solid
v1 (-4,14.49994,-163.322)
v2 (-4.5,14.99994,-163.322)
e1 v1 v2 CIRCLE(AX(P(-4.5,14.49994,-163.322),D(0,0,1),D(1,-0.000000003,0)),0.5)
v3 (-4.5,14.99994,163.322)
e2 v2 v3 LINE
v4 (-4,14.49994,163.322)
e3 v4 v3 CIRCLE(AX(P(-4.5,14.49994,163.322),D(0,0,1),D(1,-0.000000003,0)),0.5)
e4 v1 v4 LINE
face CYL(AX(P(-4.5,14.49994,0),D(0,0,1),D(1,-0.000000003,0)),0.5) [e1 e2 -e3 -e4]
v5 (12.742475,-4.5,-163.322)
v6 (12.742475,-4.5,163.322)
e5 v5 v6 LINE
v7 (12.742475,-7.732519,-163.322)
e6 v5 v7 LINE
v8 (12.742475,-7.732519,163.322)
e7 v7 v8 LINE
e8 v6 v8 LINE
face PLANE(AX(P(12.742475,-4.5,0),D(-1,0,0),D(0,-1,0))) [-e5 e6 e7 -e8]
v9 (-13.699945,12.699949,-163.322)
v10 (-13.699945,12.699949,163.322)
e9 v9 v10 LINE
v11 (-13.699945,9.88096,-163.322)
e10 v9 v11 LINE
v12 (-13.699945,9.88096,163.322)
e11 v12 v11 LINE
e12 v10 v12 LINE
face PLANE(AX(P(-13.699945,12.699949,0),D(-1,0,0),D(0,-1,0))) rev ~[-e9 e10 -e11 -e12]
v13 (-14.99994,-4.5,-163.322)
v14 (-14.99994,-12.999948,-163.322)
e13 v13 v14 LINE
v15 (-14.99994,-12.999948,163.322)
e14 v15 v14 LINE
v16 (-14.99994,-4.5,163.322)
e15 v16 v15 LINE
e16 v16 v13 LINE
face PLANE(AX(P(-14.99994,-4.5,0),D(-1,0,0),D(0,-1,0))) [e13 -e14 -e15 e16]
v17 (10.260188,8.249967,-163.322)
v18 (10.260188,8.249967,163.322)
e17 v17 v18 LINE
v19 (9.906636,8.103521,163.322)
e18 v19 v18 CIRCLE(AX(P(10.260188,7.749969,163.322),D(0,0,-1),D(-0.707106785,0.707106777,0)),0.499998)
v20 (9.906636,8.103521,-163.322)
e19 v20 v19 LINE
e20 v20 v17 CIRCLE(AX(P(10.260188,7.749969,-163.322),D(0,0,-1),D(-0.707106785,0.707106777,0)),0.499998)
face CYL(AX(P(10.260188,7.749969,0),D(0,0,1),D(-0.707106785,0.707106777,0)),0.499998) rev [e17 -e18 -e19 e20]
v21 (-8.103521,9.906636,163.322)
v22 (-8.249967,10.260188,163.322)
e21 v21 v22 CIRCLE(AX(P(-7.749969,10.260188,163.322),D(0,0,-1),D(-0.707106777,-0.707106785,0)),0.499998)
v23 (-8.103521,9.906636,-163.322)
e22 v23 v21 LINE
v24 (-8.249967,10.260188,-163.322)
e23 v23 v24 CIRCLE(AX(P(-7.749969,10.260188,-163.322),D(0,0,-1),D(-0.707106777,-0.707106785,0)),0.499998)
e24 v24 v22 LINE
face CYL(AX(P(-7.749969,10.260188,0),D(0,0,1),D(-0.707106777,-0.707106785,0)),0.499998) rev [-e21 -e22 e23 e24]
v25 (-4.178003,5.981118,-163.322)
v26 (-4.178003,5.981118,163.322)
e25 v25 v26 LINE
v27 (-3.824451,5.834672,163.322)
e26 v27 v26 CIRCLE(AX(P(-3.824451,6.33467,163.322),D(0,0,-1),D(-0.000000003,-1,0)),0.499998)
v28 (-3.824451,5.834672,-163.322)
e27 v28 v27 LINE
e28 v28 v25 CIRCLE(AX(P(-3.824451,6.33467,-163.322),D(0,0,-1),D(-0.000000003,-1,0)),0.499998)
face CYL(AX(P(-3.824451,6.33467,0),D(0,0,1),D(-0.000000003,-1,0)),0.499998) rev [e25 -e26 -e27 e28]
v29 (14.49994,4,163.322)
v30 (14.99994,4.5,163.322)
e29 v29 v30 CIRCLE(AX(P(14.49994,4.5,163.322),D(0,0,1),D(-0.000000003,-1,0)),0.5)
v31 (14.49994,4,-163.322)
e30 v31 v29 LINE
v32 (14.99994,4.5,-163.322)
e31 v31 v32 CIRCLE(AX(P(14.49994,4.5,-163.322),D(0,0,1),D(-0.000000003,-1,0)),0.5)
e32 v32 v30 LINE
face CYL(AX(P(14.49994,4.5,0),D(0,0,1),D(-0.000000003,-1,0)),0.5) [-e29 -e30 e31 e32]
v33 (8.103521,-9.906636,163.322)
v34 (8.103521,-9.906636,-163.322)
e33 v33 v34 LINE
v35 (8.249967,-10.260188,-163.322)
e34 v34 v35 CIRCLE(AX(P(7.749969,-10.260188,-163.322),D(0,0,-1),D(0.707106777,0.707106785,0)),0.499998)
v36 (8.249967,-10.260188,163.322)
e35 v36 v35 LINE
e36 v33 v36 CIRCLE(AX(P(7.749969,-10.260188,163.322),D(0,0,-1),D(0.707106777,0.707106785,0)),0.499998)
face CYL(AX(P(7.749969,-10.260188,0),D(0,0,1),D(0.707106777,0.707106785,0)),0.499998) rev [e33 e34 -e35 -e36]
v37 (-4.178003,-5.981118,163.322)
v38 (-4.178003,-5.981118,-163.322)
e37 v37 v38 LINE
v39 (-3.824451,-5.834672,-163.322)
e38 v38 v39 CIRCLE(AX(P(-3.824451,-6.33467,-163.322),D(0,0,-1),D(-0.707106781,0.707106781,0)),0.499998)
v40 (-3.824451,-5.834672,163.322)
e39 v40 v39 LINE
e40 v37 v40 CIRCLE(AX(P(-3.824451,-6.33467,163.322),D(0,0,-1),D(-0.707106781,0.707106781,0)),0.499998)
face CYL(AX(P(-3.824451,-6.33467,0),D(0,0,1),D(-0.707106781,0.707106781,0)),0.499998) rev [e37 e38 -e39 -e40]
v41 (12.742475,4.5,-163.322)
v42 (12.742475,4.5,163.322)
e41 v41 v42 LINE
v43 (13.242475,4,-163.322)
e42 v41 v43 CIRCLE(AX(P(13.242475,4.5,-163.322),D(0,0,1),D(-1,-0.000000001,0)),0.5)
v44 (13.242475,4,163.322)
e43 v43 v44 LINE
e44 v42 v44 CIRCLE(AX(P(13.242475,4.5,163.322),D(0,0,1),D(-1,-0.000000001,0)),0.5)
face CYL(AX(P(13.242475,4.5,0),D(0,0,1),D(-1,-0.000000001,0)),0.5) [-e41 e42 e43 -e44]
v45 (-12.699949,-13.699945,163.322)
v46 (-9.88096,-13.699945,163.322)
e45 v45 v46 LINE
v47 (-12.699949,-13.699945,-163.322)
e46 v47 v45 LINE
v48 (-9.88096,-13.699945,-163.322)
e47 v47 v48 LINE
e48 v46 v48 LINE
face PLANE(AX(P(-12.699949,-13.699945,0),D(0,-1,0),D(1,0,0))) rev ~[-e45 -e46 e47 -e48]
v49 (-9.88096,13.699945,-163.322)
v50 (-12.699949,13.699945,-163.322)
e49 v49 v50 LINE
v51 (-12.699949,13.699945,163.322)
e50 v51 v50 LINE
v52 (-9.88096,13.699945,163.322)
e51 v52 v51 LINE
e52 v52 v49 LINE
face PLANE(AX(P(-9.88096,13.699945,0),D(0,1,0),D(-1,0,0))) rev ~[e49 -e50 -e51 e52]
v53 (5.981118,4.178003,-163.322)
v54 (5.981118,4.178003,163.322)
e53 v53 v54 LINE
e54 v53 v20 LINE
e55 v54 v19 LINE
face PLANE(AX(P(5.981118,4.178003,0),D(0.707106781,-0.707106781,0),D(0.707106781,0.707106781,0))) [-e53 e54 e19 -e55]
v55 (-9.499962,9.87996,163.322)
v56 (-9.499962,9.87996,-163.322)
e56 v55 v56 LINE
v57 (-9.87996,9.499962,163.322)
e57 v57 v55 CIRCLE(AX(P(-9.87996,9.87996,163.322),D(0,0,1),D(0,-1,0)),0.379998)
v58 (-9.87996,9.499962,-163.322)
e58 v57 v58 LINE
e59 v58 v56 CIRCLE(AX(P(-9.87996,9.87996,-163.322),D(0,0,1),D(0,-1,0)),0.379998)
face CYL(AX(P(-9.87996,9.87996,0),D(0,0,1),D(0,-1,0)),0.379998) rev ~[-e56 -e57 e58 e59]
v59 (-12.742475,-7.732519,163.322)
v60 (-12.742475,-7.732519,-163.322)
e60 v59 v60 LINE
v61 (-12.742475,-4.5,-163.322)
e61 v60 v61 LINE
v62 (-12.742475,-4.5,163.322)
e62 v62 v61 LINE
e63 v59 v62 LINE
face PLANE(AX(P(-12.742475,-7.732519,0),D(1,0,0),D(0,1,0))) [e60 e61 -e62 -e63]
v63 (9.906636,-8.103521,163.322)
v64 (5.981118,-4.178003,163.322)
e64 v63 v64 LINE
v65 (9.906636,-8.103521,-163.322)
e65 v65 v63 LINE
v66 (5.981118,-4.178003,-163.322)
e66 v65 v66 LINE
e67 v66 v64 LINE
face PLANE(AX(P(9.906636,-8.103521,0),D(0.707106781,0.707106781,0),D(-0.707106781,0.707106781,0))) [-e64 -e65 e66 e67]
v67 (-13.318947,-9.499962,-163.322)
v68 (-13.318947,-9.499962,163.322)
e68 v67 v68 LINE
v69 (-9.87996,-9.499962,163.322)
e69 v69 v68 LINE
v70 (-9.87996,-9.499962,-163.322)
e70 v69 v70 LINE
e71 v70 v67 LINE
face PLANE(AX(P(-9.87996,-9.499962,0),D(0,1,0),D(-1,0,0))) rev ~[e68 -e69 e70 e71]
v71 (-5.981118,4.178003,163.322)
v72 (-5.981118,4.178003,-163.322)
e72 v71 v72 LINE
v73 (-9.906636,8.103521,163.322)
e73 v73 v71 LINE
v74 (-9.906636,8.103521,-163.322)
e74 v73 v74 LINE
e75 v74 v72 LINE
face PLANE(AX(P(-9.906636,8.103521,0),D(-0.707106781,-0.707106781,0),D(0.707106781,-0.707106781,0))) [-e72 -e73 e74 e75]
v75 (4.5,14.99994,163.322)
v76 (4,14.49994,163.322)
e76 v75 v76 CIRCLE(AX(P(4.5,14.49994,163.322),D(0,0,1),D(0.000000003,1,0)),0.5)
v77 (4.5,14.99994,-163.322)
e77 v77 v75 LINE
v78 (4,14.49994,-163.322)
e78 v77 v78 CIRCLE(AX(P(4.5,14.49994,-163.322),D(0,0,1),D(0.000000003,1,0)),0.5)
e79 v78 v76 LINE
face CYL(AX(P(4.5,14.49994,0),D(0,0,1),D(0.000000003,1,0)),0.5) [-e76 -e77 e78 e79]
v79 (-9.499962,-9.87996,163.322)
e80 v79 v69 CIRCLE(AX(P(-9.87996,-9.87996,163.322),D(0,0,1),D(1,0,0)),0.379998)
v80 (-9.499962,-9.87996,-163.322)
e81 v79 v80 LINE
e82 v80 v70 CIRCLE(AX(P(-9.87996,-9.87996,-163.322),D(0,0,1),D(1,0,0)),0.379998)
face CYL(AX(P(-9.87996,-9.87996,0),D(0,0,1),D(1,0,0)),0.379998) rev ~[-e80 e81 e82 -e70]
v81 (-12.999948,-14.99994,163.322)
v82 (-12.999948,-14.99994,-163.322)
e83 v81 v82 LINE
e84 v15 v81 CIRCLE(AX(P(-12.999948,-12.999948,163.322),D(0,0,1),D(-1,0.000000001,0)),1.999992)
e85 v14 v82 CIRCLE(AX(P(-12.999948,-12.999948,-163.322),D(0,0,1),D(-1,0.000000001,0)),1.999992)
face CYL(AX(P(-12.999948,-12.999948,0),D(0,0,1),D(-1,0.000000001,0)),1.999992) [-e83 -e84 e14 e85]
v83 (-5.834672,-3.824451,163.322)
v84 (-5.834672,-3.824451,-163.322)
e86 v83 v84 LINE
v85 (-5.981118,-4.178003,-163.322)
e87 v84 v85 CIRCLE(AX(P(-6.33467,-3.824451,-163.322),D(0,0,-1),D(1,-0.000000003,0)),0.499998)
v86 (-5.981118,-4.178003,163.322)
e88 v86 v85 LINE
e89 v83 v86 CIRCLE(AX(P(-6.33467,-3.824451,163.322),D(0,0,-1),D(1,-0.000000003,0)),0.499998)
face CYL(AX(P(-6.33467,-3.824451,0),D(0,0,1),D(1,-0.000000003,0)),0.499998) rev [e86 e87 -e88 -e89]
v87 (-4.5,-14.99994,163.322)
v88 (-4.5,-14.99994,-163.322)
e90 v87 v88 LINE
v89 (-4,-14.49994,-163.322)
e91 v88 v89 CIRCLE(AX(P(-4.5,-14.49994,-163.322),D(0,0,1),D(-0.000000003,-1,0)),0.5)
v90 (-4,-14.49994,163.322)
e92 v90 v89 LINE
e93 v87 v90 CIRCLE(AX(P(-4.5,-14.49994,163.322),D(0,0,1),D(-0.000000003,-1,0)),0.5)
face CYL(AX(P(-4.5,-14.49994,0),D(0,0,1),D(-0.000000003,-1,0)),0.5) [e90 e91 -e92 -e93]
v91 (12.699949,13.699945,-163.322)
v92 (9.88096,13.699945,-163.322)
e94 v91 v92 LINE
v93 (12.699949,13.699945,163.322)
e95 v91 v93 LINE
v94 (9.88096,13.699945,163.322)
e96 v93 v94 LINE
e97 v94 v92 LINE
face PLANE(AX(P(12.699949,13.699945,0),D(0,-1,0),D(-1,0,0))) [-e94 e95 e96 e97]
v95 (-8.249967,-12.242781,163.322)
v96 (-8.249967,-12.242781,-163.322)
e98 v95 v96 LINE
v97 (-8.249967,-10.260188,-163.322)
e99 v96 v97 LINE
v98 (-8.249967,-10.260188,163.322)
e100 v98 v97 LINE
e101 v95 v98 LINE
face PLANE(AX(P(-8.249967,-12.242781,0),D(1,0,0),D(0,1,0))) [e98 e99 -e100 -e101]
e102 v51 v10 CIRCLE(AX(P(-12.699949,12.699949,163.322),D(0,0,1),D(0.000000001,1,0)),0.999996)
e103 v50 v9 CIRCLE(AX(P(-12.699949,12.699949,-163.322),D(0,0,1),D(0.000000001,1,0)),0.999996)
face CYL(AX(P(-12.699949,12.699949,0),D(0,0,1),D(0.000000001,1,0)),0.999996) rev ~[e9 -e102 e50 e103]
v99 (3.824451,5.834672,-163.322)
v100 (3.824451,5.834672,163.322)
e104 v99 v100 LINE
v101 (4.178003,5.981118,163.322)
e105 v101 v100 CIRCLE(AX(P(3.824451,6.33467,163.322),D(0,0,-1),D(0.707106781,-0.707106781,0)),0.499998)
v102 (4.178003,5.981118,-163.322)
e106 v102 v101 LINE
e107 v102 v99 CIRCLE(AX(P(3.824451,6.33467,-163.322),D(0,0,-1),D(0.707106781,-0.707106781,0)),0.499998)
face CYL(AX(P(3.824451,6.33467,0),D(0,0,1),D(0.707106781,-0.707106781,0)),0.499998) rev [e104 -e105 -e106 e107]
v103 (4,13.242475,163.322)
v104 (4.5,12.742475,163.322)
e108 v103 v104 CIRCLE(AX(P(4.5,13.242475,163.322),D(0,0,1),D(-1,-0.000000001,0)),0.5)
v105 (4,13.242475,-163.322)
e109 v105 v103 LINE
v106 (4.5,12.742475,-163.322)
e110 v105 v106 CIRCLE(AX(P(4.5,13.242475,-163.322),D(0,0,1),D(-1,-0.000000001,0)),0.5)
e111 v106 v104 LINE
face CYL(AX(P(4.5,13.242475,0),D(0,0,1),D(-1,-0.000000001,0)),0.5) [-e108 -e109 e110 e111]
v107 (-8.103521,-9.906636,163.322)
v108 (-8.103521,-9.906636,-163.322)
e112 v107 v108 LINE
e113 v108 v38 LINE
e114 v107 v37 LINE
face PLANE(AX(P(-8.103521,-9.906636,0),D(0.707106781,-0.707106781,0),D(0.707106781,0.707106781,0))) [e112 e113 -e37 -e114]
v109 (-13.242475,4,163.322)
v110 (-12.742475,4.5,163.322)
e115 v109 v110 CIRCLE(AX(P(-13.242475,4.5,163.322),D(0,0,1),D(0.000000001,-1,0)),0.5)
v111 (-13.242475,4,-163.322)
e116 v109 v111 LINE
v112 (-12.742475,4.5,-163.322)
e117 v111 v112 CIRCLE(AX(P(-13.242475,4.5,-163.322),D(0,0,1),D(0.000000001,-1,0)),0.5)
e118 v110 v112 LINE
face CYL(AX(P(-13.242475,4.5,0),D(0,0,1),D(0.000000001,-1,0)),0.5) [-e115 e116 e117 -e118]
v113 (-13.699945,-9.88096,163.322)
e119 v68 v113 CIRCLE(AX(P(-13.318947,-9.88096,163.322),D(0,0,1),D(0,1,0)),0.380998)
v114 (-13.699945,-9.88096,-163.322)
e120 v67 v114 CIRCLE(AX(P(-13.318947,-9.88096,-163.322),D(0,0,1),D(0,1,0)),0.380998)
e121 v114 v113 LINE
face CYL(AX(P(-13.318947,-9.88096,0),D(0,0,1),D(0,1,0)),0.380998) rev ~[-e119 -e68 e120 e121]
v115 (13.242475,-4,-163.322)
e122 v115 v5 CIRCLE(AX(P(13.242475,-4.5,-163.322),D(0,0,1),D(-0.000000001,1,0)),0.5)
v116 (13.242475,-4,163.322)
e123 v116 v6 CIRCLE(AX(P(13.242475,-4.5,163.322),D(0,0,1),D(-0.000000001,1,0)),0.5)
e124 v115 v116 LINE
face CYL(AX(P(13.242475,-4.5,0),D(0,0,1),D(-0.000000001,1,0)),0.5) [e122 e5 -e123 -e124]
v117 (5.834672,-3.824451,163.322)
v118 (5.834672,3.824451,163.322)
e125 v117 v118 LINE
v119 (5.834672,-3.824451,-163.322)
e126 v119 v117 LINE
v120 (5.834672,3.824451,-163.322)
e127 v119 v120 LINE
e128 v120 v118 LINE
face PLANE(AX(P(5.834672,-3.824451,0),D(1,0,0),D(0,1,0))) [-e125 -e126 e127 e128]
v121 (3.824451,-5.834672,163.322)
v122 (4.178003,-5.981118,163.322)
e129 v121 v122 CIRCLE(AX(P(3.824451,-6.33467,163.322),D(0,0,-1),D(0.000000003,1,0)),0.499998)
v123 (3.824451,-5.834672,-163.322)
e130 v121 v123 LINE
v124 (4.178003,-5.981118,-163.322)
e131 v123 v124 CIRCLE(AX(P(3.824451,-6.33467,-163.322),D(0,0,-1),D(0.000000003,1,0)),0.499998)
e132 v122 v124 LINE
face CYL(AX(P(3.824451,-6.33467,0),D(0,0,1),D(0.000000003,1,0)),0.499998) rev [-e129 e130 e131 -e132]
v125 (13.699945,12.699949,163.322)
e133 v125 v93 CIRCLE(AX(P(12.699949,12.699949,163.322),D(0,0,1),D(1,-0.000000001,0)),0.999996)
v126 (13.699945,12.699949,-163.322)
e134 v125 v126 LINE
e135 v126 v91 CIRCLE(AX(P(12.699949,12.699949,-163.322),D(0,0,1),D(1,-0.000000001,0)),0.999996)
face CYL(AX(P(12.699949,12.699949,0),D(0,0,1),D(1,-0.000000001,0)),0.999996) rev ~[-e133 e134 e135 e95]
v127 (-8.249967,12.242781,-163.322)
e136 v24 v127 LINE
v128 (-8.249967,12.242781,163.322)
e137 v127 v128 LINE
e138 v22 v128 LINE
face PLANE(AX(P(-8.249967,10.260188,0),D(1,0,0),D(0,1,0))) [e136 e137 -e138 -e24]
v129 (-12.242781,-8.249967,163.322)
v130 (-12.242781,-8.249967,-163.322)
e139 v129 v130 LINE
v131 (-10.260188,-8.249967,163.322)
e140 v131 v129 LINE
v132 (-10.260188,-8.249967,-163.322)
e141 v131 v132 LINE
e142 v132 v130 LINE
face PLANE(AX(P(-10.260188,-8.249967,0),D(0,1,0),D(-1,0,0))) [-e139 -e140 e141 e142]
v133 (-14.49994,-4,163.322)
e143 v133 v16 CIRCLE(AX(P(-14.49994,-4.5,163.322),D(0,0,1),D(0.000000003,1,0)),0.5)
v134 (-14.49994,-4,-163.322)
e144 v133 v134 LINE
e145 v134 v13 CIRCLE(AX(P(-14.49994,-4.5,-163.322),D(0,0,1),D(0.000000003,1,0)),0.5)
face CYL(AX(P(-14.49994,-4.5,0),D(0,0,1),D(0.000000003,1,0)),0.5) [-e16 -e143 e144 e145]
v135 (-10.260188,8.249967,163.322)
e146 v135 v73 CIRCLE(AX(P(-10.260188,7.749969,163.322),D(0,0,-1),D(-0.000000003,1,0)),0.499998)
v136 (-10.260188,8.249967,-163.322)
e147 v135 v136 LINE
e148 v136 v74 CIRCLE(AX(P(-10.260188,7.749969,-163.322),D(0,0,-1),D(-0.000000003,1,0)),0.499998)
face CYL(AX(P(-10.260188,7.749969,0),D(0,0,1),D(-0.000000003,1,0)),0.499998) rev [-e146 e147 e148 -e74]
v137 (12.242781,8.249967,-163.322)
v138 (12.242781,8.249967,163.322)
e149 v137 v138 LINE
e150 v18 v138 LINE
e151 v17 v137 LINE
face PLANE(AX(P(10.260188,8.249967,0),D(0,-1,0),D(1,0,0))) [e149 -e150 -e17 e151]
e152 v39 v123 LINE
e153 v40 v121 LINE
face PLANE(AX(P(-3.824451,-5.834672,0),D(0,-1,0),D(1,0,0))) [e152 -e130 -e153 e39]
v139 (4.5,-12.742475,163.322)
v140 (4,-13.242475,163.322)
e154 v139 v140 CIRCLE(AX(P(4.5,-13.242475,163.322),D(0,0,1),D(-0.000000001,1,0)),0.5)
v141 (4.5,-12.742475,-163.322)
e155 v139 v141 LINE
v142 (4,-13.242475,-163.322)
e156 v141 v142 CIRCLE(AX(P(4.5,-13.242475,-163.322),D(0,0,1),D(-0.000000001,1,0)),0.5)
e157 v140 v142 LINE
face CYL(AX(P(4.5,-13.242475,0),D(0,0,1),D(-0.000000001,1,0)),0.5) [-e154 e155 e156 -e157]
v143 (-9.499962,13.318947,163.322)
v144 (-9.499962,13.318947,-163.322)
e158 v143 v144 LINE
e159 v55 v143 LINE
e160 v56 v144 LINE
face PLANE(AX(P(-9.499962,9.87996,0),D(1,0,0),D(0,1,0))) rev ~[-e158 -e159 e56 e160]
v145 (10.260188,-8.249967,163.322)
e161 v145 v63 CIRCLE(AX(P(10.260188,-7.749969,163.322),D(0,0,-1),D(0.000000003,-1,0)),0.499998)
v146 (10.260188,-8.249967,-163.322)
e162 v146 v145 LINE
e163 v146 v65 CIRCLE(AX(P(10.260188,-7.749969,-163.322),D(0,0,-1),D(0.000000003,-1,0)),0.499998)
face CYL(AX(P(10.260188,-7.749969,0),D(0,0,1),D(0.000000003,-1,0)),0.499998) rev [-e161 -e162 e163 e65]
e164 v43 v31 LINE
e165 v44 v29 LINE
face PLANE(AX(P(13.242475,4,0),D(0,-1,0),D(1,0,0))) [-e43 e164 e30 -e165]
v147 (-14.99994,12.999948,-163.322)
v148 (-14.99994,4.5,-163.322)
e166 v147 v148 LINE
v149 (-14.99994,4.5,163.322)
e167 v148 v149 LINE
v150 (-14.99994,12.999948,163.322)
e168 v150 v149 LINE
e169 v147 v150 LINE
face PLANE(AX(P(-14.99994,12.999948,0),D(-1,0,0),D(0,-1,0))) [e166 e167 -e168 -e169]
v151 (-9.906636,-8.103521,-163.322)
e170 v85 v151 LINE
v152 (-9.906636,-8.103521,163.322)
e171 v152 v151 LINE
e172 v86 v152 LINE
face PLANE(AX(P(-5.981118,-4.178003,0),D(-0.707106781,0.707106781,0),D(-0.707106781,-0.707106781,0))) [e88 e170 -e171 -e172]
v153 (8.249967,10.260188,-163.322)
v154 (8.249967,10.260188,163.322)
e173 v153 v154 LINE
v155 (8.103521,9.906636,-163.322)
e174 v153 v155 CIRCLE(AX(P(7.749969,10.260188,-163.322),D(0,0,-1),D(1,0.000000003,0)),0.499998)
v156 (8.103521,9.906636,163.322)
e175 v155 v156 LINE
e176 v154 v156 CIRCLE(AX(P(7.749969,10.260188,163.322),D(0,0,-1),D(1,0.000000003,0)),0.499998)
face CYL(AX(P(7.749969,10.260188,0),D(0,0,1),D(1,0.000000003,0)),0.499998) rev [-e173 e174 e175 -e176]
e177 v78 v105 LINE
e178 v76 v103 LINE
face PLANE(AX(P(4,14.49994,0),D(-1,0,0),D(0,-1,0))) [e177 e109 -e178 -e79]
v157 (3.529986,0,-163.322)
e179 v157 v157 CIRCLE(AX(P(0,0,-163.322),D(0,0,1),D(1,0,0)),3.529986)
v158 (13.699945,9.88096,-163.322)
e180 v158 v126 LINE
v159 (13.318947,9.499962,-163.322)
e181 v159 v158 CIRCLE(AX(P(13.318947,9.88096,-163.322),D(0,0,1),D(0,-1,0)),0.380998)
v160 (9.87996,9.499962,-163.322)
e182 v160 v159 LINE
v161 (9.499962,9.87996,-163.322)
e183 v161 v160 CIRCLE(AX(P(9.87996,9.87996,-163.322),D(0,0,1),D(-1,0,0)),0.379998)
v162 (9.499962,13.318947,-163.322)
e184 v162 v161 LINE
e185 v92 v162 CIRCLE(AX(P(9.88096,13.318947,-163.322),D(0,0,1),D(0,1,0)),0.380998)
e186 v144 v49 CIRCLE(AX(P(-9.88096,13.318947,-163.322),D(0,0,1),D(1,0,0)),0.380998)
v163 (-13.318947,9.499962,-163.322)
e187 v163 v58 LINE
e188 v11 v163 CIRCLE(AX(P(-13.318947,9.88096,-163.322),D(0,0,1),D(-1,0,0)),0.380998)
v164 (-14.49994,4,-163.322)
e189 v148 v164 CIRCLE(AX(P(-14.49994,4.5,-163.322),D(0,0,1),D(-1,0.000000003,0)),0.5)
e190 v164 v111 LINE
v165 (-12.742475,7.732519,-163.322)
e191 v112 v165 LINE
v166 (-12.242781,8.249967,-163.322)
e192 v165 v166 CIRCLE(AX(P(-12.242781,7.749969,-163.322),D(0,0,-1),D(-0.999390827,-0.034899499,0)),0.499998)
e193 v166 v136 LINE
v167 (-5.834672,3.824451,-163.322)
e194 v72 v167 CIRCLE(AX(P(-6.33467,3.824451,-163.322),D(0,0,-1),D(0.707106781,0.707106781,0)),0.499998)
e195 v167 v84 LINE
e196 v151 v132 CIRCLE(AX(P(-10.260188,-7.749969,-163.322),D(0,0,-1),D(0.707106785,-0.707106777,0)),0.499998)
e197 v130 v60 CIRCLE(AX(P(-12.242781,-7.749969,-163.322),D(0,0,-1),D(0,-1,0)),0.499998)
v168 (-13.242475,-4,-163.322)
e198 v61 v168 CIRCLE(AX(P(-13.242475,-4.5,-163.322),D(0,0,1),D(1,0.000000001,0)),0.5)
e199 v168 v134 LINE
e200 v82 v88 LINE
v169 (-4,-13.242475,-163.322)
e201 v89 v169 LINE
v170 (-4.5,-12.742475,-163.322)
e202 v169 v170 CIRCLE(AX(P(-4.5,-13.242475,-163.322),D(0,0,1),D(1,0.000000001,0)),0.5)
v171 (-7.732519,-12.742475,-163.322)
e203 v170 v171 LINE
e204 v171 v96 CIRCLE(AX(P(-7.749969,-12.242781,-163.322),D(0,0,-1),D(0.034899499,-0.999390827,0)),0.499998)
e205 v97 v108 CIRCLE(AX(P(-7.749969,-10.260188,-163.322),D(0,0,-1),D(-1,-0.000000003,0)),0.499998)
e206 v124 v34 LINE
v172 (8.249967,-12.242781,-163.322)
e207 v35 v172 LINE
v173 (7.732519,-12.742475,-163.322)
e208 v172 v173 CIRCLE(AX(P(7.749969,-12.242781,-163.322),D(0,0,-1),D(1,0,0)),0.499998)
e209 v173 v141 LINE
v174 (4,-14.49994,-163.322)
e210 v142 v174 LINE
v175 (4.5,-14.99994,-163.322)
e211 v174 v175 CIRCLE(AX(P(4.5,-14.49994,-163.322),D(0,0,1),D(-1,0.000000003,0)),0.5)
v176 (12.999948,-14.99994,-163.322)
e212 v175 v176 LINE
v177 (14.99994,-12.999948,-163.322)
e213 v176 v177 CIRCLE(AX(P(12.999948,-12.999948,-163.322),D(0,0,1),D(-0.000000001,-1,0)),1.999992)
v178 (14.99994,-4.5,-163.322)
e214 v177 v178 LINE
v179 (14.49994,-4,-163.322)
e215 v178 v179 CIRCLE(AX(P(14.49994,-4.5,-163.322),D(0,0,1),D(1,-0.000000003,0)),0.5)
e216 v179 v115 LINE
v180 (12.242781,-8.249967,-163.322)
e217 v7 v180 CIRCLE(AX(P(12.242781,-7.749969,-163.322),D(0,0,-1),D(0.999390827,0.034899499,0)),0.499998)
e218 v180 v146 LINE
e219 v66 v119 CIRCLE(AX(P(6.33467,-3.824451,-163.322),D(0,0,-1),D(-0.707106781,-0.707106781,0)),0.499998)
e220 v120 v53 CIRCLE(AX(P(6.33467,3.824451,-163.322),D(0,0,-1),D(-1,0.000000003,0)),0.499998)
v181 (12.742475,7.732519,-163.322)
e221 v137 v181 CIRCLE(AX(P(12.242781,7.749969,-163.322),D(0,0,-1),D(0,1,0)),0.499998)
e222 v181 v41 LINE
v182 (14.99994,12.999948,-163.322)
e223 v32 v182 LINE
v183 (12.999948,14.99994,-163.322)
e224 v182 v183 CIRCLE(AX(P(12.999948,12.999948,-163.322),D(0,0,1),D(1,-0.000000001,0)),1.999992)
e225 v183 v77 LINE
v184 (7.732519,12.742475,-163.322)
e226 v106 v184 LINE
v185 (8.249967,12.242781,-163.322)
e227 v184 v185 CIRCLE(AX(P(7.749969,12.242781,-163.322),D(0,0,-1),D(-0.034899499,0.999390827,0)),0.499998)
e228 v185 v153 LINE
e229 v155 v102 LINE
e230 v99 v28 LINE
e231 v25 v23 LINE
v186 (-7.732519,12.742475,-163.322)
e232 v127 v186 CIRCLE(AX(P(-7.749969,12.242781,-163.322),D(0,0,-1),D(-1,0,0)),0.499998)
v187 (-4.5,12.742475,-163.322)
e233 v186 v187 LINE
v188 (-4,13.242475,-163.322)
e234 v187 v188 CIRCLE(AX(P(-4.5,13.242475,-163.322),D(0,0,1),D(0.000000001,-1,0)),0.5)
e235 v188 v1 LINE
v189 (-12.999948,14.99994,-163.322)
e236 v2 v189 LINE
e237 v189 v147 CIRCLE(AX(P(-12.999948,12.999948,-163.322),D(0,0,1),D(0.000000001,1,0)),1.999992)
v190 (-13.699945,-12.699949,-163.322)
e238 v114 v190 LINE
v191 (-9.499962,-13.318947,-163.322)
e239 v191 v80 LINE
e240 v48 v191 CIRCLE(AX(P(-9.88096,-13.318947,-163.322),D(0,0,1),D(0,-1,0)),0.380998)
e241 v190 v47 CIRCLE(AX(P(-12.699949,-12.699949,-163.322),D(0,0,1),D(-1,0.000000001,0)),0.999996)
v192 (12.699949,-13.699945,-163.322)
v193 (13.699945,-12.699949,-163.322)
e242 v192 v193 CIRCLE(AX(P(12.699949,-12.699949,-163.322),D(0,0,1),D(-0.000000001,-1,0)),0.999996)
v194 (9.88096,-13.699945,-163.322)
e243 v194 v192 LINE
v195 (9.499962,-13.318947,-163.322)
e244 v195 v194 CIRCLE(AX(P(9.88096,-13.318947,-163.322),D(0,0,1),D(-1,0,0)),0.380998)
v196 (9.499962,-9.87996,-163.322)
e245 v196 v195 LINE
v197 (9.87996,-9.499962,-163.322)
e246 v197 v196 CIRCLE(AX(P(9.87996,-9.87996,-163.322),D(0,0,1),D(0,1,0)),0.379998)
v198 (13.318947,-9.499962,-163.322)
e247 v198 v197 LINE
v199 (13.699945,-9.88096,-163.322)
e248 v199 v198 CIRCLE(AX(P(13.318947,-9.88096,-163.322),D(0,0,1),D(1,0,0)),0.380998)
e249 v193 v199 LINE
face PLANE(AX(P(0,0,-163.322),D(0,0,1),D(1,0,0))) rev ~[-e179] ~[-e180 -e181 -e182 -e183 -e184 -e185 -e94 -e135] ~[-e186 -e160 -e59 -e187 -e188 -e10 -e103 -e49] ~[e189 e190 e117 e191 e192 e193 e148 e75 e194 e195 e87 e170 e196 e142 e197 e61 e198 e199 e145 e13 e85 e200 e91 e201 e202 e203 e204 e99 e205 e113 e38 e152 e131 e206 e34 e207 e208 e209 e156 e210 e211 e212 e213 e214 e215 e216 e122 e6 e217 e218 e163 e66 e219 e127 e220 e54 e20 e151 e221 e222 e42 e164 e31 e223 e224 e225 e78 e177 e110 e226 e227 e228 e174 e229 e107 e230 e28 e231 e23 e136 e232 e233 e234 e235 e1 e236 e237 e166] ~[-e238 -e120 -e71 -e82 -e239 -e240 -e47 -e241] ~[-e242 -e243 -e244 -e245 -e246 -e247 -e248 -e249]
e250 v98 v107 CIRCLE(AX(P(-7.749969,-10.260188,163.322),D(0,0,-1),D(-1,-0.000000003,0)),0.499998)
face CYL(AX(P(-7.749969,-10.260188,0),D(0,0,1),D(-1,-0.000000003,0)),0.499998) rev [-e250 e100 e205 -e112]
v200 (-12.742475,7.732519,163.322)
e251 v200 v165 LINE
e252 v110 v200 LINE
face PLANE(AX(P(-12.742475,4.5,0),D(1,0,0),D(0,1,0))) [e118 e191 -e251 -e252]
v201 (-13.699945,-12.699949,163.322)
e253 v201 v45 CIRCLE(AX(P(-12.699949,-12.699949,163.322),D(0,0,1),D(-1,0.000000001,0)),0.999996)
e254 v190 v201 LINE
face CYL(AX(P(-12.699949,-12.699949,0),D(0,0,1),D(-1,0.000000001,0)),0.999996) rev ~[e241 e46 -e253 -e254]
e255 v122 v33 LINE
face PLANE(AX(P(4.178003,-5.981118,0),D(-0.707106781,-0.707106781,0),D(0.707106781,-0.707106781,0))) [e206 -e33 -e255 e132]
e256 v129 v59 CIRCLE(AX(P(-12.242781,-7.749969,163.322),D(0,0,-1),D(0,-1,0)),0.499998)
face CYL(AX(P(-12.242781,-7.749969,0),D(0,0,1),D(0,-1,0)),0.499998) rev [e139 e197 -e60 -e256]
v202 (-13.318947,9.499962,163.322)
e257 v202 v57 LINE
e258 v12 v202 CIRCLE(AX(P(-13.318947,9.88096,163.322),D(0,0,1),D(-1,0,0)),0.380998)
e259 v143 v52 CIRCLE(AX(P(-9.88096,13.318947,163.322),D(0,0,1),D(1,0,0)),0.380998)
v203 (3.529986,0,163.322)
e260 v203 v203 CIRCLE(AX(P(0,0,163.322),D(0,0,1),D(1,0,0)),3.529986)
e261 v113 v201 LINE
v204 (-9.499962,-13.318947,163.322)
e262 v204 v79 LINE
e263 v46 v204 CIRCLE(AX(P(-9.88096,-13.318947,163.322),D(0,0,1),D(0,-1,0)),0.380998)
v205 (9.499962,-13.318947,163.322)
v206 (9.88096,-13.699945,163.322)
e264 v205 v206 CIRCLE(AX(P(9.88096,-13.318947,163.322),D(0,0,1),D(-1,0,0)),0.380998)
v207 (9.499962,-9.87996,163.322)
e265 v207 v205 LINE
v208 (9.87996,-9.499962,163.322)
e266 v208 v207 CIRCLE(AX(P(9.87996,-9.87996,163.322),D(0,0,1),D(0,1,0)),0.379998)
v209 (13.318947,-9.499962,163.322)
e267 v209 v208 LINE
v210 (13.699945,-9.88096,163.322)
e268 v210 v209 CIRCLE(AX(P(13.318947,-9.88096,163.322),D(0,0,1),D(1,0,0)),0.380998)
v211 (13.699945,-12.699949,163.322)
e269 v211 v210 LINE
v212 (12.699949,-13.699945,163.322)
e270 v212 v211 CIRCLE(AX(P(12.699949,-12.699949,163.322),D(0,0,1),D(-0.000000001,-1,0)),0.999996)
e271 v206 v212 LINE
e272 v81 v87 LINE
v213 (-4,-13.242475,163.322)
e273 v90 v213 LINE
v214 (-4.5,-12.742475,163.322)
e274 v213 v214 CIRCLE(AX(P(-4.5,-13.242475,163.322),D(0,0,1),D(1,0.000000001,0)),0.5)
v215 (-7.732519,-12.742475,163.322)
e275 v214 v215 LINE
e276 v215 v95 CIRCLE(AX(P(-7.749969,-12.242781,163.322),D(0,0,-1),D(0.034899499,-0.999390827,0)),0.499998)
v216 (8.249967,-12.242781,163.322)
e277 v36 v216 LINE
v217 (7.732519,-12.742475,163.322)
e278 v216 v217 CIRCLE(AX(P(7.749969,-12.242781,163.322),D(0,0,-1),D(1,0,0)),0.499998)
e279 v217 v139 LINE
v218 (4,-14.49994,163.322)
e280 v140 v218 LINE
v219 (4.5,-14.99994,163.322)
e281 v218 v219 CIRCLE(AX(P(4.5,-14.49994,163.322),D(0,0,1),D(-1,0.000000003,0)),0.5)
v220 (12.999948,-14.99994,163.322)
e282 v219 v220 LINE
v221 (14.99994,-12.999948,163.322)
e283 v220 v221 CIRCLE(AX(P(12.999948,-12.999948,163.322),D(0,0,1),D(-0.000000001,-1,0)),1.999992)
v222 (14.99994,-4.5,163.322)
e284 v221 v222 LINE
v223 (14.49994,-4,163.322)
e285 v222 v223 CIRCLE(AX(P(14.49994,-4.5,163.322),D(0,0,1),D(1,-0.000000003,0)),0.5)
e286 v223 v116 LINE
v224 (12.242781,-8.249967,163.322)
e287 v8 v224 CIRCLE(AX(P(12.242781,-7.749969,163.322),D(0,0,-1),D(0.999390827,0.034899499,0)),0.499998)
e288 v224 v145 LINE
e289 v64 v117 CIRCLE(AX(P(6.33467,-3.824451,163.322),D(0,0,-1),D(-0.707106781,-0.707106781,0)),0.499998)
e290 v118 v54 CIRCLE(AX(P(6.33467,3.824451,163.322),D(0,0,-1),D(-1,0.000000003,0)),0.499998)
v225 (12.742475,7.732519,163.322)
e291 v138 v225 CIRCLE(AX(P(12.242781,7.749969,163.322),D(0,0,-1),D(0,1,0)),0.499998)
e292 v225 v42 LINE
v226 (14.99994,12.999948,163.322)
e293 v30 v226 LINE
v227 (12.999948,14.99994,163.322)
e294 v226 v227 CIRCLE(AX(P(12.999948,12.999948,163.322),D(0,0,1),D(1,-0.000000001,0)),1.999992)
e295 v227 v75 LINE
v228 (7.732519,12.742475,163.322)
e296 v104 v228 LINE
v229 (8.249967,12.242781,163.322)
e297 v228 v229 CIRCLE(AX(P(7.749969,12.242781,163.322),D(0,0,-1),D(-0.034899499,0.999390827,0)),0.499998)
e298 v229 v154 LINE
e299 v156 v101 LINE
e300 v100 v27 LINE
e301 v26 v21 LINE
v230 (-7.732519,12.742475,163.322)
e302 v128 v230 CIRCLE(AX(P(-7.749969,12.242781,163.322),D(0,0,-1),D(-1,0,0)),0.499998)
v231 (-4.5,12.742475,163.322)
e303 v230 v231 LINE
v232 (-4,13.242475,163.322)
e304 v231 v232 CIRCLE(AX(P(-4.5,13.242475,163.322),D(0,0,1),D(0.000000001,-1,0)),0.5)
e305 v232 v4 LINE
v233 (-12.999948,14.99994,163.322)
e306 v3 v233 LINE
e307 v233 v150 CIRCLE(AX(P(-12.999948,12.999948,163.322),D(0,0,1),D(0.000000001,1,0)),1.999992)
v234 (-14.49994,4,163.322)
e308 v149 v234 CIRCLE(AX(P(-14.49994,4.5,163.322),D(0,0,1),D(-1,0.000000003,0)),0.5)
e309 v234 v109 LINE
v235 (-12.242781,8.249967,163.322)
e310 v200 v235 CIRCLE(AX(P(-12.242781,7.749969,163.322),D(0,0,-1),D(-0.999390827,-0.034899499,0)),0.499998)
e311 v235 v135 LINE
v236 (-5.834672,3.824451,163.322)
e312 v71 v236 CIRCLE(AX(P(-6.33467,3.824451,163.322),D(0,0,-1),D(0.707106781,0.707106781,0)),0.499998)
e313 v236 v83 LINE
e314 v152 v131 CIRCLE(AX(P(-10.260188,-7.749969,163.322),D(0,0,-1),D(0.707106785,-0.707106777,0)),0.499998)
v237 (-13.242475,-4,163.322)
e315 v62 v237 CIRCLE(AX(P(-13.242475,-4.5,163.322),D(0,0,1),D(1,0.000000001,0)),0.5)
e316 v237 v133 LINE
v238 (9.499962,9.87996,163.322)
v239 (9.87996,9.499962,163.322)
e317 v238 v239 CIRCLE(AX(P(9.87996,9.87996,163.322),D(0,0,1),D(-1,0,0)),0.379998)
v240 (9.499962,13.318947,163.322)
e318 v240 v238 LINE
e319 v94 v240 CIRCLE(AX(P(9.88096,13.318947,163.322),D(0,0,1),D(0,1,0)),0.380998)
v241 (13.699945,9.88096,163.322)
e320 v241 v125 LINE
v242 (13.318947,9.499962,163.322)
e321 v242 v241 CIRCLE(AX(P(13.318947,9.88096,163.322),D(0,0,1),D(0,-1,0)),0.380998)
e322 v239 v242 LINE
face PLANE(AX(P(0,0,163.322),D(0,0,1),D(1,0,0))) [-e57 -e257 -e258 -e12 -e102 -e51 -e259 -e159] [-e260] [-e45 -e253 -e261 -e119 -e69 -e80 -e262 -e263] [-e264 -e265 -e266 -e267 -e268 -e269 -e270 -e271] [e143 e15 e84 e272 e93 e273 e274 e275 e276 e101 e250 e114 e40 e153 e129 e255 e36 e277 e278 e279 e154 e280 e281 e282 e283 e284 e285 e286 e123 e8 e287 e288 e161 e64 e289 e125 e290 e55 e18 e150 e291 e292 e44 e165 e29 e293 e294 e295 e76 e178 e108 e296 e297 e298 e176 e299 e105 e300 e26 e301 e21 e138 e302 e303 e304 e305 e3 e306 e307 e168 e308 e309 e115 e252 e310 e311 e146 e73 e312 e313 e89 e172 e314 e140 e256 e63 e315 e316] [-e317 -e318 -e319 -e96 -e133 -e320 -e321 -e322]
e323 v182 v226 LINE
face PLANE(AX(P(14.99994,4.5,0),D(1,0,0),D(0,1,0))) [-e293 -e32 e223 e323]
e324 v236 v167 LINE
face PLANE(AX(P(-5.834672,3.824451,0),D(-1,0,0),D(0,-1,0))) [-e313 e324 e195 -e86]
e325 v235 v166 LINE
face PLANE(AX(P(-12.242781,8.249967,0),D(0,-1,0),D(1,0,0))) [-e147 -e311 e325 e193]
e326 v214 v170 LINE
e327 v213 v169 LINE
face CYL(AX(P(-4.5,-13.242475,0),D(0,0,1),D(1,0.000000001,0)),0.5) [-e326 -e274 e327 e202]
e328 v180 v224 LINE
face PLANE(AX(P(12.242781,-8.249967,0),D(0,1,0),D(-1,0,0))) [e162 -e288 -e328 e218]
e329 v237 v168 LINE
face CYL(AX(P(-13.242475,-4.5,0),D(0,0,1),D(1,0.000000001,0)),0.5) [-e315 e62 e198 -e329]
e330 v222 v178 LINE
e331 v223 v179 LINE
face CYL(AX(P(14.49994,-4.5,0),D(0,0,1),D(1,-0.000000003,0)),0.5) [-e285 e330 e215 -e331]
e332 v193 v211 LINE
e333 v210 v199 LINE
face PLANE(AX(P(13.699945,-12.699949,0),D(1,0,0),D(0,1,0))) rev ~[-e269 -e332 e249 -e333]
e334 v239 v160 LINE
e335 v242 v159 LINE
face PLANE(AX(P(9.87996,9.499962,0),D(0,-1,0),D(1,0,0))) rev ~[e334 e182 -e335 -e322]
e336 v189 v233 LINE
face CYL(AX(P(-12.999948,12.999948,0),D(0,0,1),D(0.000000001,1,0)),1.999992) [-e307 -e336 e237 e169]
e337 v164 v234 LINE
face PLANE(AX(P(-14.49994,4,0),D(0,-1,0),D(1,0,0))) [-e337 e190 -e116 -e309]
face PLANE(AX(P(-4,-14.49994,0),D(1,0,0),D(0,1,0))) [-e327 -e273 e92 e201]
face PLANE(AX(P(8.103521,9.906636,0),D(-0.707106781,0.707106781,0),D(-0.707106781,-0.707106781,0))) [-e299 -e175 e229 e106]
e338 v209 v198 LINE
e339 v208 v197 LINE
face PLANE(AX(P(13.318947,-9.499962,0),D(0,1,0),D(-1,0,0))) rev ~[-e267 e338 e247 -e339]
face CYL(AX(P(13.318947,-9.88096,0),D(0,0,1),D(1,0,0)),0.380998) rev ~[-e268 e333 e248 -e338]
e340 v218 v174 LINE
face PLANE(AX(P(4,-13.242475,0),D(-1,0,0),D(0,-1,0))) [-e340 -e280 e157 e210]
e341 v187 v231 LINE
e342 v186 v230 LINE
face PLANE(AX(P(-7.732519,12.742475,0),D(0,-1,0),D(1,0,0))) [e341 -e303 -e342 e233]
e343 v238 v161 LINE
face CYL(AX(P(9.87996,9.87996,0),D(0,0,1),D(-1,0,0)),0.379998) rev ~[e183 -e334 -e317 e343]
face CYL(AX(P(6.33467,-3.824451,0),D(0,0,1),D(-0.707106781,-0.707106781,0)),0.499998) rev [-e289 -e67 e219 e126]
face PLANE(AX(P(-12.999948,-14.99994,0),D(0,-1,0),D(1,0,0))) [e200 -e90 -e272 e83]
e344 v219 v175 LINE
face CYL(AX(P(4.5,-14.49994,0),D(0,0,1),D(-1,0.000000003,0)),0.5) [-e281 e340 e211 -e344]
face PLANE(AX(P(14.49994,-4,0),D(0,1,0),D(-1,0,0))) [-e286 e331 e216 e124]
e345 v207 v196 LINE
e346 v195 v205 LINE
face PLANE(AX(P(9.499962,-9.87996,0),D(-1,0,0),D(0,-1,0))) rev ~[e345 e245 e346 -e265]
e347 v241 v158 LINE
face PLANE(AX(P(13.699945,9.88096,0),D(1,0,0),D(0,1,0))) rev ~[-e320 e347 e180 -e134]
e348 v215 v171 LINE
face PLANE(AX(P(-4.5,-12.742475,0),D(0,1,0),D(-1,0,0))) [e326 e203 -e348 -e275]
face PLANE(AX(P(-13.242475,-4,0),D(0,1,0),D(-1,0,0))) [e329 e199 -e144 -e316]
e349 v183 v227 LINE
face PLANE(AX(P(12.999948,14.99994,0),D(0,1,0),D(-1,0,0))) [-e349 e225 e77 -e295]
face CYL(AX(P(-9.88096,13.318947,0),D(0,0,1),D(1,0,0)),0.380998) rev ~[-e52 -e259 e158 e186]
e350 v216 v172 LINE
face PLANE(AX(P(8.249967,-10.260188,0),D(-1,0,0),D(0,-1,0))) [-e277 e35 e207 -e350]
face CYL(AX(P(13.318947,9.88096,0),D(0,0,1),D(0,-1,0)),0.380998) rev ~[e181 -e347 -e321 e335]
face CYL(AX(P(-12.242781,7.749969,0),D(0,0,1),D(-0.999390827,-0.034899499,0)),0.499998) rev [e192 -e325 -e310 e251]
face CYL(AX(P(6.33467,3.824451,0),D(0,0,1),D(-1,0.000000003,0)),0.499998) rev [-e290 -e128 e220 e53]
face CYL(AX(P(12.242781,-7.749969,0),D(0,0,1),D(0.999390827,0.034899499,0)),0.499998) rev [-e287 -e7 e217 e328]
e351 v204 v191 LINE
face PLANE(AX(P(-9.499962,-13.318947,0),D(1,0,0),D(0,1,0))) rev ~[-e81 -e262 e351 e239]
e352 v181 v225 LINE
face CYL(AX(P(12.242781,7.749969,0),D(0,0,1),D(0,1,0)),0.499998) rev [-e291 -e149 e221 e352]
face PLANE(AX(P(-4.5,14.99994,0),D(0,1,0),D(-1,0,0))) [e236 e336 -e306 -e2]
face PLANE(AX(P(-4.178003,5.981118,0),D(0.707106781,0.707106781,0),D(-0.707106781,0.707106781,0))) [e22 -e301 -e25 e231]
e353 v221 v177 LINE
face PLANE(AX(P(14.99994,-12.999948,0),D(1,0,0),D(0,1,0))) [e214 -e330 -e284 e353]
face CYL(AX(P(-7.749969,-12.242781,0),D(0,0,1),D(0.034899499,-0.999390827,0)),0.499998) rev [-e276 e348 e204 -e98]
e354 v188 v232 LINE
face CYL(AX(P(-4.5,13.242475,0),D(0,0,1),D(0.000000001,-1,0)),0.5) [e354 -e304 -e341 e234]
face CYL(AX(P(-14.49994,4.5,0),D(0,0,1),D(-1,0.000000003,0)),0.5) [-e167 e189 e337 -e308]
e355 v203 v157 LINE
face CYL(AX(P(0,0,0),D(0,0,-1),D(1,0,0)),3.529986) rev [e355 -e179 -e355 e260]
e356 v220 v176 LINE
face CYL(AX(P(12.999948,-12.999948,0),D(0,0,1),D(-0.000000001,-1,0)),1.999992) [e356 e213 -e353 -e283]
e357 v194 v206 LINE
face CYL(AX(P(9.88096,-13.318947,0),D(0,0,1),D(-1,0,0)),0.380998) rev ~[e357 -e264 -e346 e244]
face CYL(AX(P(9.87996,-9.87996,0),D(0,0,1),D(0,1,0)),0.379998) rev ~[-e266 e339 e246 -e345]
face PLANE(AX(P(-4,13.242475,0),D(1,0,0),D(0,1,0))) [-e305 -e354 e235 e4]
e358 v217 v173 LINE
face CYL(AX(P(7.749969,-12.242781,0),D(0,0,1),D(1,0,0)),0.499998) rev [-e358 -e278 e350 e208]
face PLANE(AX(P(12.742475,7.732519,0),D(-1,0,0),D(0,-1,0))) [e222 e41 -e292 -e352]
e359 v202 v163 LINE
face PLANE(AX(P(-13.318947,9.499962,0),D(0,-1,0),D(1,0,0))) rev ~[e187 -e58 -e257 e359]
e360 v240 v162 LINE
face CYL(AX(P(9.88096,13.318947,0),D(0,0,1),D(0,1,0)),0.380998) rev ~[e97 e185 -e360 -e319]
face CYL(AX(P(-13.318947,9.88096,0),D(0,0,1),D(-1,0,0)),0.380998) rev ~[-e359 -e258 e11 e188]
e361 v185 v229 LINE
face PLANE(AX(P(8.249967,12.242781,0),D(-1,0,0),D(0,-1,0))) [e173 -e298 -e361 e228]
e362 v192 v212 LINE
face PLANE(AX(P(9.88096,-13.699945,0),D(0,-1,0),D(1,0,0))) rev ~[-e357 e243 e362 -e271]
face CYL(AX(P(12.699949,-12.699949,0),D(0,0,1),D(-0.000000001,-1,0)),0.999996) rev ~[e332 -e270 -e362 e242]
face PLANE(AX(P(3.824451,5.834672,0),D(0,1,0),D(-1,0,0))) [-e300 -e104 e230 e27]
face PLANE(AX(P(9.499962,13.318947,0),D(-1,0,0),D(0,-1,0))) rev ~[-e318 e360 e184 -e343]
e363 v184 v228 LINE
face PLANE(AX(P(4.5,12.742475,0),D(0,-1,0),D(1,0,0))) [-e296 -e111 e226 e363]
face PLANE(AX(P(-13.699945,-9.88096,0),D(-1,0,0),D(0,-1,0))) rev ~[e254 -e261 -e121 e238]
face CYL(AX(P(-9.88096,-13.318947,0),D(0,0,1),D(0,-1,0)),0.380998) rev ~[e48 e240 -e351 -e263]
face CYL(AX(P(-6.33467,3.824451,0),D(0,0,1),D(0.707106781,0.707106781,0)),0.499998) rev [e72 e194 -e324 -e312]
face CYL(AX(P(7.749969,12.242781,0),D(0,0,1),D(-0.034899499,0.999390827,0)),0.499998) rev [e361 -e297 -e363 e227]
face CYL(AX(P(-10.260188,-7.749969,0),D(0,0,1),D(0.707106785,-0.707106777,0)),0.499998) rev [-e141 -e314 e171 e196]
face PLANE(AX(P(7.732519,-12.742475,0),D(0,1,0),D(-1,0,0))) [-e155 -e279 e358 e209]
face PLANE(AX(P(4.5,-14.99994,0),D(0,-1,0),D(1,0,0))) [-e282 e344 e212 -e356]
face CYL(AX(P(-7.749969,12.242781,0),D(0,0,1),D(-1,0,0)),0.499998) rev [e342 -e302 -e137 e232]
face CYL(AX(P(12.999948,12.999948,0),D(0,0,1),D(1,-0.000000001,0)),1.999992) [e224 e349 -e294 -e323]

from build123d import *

# Parameters (mm, degrees)
SKETCH1_R           = 3.52998588
BOSS_EXTRUDE1_DEPTH = 163.322


with BuildPart() as part:
    # Sketch1 → Boss-Extrude1 (new, symmetric)
    with BuildSketch(Plane.XY):
        with BuildLine():
            Line((14.49994, -4), (13.24247465, -4))
            ThreePointArc((13.24247465, -4), (12.88892126, -4.146446609), (12.74247465, -4.5))
            Line((12.74247465, -4.5), (12.74247465, -7.732519321))
            ThreePointArc((12.74247465, -7.732519321), (12.602449697, -8.097296796), (12.242781236, -8.249967))
            Line((12.242781236, -8.249967), (10.260188032, -8.249967))
            ThreePointArc((10.260188032, -8.249967), (10.068847082, -8.211906919), (9.906636056, -8.103520976))
            Line((9.906636056, -8.103520976), (5.981117769, -4.178002689))
            ThreePointArc((5.981117769, -4.178002689), (5.872731827, -4.015791664), (5.834671745, -3.824450713))
            Line((5.834671745, -3.824450713), (5.834671745, -1.01249595))
            Line((5.834671745, -1.01249595), (5.834671745, 0.88749645))
            Line((5.834671745, 0.88749645), (5.834671745, 3.824450713))
            ThreePointArc((5.834671745, 3.824450713), (5.872731827, 4.015791664), (5.981117769, 4.178002689))
            Line((5.981117769, 4.178002689), (9.906636056, 8.103520976))
            ThreePointArc((9.906636056, 8.103520976), (10.068847082, 8.211906919), (10.260188032, 8.249967))
            Line((10.260188032, 8.249967), (12.242781236, 8.249967))
            ThreePointArc((12.242781236, 8.249967), (12.602449697, 8.097296796), (12.74247465, 7.732519321))
            Line((12.74247465, 7.732519321), (12.74247465, 4.5))
            ThreePointArc((12.74247465, 4.5), (12.88892126, 4.146446609), (13.24247465, 4))
            Line((13.24247465, 4), (14.49994, 4))
            ThreePointArc((14.49994, 4), (14.853493391, 4.146446609), (14.99994, 4.5))
            Line((14.99994, 4.5), (14.99994, 12.999948))
            ThreePointArc((14.99994, 12.999948), (14.414155906, 14.414155906), (12.999948, 14.99994))
            Line((12.999948, 14.99994), (4.5, 14.99994))
            ThreePointArc((4.5, 14.99994), (4.146446609, 14.853493391), (4, 14.49994))
            Line((4, 14.49994), (4, 13.24247465))
            ThreePointArc((4, 13.24247465), (4.146446609, 12.88892126), (4.5, 12.74247465))
            Line((4.5, 12.74247465), (7.732519321, 12.74247465))
            ThreePointArc((7.732519321, 12.74247465), (8.097296796, 12.602449697), (8.249967, 12.242781236))
            Line((8.249967, 12.242781236), (8.249967, 10.260188032))
            ThreePointArc((8.249967, 10.260188032), (8.211906919, 10.068847082), (8.103520976, 9.906636056))
            Line((8.103520976, 9.906636056), (4.178002689, 5.981117769))
            ThreePointArc((4.178002689, 5.981117769), (4.015791664, 5.872731827), (3.824450713, 5.834671745))
            Line((3.824450713, 5.834671745), (0.9499962, 5.834671745))
            Line((0.9499962, 5.834671745), (-0.9499962, 5.834671745))
            Line((-0.9499962, 5.834671745), (-3.824450713, 5.834671745))
            ThreePointArc((-3.824450713, 5.834671745), (-4.015791664, 5.872731827), (-4.178002689, 5.981117769))
            Line((-4.178002689, 5.981117769), (-8.103520976, 9.906636056))
            ThreePointArc((-8.103520976, 9.906636056), (-8.211906919, 10.068847082), (-8.249967, 10.260188032))
            Line((-8.249967, 10.260188032), (-8.249967, 12.242781236))
            ThreePointArc((-8.249967, 12.242781236), (-8.097296796, 12.602449697), (-7.732519321, 12.74247465))
            Line((-7.732519321, 12.74247465), (-4.5, 12.74247465))
            ThreePointArc((-4.5, 12.74247465), (-4.146446609, 12.88892126), (-4, 13.24247465))
            Line((-4, 13.24247465), (-4, 14.49994))
            ThreePointArc((-4, 14.49994), (-4.146446609, 14.853493391), (-4.5, 14.99994))
            Line((-4.5, 14.99994), (-12.999948, 14.99994))
            ThreePointArc((-12.999948, 14.99994), (-14.414155906, 14.414155906), (-14.99994, 12.999948))
            Line((-14.99994, 12.999948), (-14.99994, 4.5))
            ThreePointArc((-14.99994, 4.5), (-14.853493391, 4.146446609), (-14.49994, 4))
            Line((-14.49994, 4), (-13.24247465, 4))
            ThreePointArc((-13.24247465, 4), (-12.88892126, 4.146446609), (-12.74247465, 4.5))
            Line((-12.74247465, 4.5), (-12.74247465, 7.732519321))
            ThreePointArc((-12.74247465, 7.732519321), (-12.602449697, 8.097296796), (-12.242781236, 8.249967))
            Line((-12.242781236, 8.249967), (-10.260188032, 8.249967))
            ThreePointArc((-10.260188032, 8.249967), (-10.068847082, 8.211906919), (-9.906636056, 8.103520976))
            Line((-9.906636056, 8.103520976), (-5.981117769, 4.178002689))
            ThreePointArc((-5.981117769, 4.178002689), (-5.872731827, 4.015791664), (-5.834671745, 3.824450713))
            Line((-5.834671745, 3.824450713), (-5.834671745, 0.88749645))
            Line((-5.834671745, 0.88749645), (-5.834671745, -1.01249595))
            Line((-5.834671745, -1.01249595), (-5.834671745, -3.824450713))
            ThreePointArc((-5.834671745, -3.824450713), (-5.872731827, -4.015791664), (-5.981117769, -4.178002689))
            Line((-5.981117769, -4.178002689), (-9.906636056, -8.103520976))
            ThreePointArc((-9.906636056, -8.103520976), (-10.068847082, -8.211906919), (-10.260188032, -8.249967))
            Line((-10.260188032, -8.249967), (-12.242781236, -8.249967))
            ThreePointArc((-12.242781236, -8.249967), (-12.602449697, -8.097296796), (-12.74247465, -7.732519321))
            Line((-12.74247465, -7.732519321), (-12.74247465, -4.5))
            ThreePointArc((-12.74247465, -4.5), (-12.88892126, -4.146446609), (-13.24247465, -4))
            Line((-13.24247465, -4), (-14.49994, -4))
            ThreePointArc((-14.49994, -4), (-14.853493391, -4.146446609), (-14.99994, -4.5))
            Line((-14.99994, -4.5), (-14.99994, -12.999948))
            ThreePointArc((-14.99994, -12.999948), (-14.414155906, -14.414155906), (-12.999948, -14.99994))
            Line((-12.999948, -14.99994), (-4.5, -14.99994))
            ThreePointArc((-4.5, -14.99994), (-4.146446609, -14.853493391), (-4, -14.49994))
            Line((-4, -14.49994), (-4, -13.24247465))
            ThreePointArc((-4, -13.24247465), (-4.146446609, -12.88892126), (-4.5, -12.74247465))
            Line((-4.5, -12.74247465), (-7.732519321, -12.74247465))
            ThreePointArc((-7.732519321, -12.74247465), (-8.097296796, -12.602449697), (-8.249967, -12.242781236))
            Line((-8.249967, -12.242781236), (-8.249967, -10.260188032))
            ThreePointArc((-8.249967, -10.260188032), (-8.211906919, -10.068847082), (-8.103520976, -9.906636056))
            Line((-8.103520976, -9.906636056), (-4.178002689, -5.981117769))
            ThreePointArc((-4.178002689, -5.981117769), (-4.015791664, -5.872731827), (-3.824450713, -5.834671745))
            Line((-3.824450713, -5.834671745), (-0.9499962, -5.834671745))
            Line((-0.9499962, -5.834671745), (0.9499962, -5.834671745))
            Line((0.9499962, -5.834671745), (3.824450713, -5.834671745))
            ThreePointArc((3.824450713, -5.834671745), (4.015791664, -5.872731827), (4.178002689, -5.981117769))
            Line((4.178002689, -5.981117769), (8.103520976, -9.906636056))
            ThreePointArc((8.103520976, -9.906636056), (8.211906919, -10.068847082), (8.249967, -10.260188032))
            Line((8.249967, -10.260188032), (8.249967, -12.242781236))
            ThreePointArc((8.249967, -12.242781236), (8.097296796, -12.602449697), (7.732519321, -12.74247465))
            Line((7.732519321, -12.74247465), (4.5, -12.74247465))
            ThreePointArc((4.5, -12.74247465), (4.146446609, -12.88892126), (4, -13.24247465))
            Line((4, -13.24247465), (4, -14.49994))
            ThreePointArc((4, -14.49994), (4.146446609, -14.853493391), (4.5, -14.99994))
            Line((4.5, -14.99994), (12.999948, -14.99994))
            ThreePointArc((12.999948, -14.99994), (14.414155906, -14.414155906), (14.99994, -12.999948))
            Line((14.99994, -12.999948), (14.99994, -4.5))
            ThreePointArc((14.99994, -4.5), (14.853493391, -4.146446609), (14.49994, -4))
        make_face()
        Circle(SKETCH1_R, mode=Mode.SUBTRACT)
        with BuildLine():
            Line((-12.6999492, -13.6999452), (-9.880960476, -13.6999452))
            ThreePointArc((-9.880960476, -13.6999452), (-9.61155387, -13.58835333), (-9.499962, -13.318946724))
            Line((-9.499962, -13.318946724), (-9.499962, -9.87996048))
            ThreePointArc((-9.499962, -9.87996048), (-9.611260978, -9.611260978), (-9.87996048, -9.499962))
            Line((-9.87996048, -9.499962), (-13.318946724, -9.499962))
            ThreePointArc((-13.318946724, -9.499962), (-13.58835333, -9.61155387), (-13.6999452, -9.880960476))
            Line((-13.6999452, -9.880960476), (-13.6999452, -12.6999492))
            ThreePointArc((-13.6999452, -12.6999492), (-13.407053153, -13.407053153), (-12.6999492, -13.6999452))
        make_face(mode=Mode.SUBTRACT)
        with BuildLine():
            Line((13.6999452, -12.6999492), (13.6999452, -9.880960476))
            ThreePointArc((13.6999452, -9.880960476), (13.58835333, -9.61155387), (13.318946724, -9.499962))
            Line((13.318946724, -9.499962), (9.87996048, -9.499962))
            ThreePointArc((9.87996048, -9.499962), (9.611260978, -9.611260978), (9.499962, -9.87996048))
            Line((9.499962, -9.87996048), (9.499962, -13.318946724))
            ThreePointArc((9.499962, -13.318946724), (9.61155387, -13.58835333), (9.880960476, -13.6999452))
            Line((9.880960476, -13.6999452), (12.6999492, -13.6999452))
            ThreePointArc((12.6999492, -13.6999452), (13.407053153, -13.407053153), (13.6999452, -12.6999492))
        make_face(mode=Mode.SUBTRACT)
        with BuildLine():
            Line((9.87996048, 9.499962), (13.318946724, 9.499962))
            ThreePointArc((13.318946724, 9.499962), (13.58835333, 9.61155387), (13.6999452, 9.880960476))
            Line((13.6999452, 9.880960476), (13.6999452, 12.6999492))
            ThreePointArc((13.6999452, 12.6999492), (13.407053153, 13.407053153), (12.6999492, 13.6999452))
            Line((12.6999492, 13.6999452), (9.880960476, 13.6999452))
            ThreePointArc((9.880960476, 13.6999452), (9.61155387, 13.58835333), (9.499962, 13.318946724))
            Line((9.499962, 13.318946724), (9.499962, 9.87996048))
            ThreePointArc((9.499962, 9.87996048), (9.611260978, 9.611260978), (9.87996048, 9.499962))
        make_face(mode=Mode.SUBTRACT)
        with BuildLine():
            Line((-13.6999452, 12.6999492), (-13.6999452, 9.880960476))
            ThreePointArc((-13.6999452, 9.880960476), (-13.58835333, 9.61155387), (-13.318946724, 9.499962))
            Line((-13.318946724, 9.499962), (-9.87996048, 9.499962))
            ThreePointArc((-9.87996048, 9.499962), (-9.611260978, 9.611260978), (-9.499962, 9.87996048))
            Line((-9.499962, 9.87996048), (-9.499962, 13.318946724))
            ThreePointArc((-9.499962, 13.318946724), (-9.61155387, 13.58835333), (-9.880960476, 13.6999452))
            Line((-9.880960476, 13.6999452), (-12.6999492, 13.6999452))
            ThreePointArc((-12.6999492, 13.6999452), (-13.407053153, 13.407053153), (-13.6999452, 12.6999492))
        make_face(mode=Mode.SUBTRACT)
    extrude(amount=BOSS_EXTRUDE1_DEPTH, both=True)


solid = part.part
